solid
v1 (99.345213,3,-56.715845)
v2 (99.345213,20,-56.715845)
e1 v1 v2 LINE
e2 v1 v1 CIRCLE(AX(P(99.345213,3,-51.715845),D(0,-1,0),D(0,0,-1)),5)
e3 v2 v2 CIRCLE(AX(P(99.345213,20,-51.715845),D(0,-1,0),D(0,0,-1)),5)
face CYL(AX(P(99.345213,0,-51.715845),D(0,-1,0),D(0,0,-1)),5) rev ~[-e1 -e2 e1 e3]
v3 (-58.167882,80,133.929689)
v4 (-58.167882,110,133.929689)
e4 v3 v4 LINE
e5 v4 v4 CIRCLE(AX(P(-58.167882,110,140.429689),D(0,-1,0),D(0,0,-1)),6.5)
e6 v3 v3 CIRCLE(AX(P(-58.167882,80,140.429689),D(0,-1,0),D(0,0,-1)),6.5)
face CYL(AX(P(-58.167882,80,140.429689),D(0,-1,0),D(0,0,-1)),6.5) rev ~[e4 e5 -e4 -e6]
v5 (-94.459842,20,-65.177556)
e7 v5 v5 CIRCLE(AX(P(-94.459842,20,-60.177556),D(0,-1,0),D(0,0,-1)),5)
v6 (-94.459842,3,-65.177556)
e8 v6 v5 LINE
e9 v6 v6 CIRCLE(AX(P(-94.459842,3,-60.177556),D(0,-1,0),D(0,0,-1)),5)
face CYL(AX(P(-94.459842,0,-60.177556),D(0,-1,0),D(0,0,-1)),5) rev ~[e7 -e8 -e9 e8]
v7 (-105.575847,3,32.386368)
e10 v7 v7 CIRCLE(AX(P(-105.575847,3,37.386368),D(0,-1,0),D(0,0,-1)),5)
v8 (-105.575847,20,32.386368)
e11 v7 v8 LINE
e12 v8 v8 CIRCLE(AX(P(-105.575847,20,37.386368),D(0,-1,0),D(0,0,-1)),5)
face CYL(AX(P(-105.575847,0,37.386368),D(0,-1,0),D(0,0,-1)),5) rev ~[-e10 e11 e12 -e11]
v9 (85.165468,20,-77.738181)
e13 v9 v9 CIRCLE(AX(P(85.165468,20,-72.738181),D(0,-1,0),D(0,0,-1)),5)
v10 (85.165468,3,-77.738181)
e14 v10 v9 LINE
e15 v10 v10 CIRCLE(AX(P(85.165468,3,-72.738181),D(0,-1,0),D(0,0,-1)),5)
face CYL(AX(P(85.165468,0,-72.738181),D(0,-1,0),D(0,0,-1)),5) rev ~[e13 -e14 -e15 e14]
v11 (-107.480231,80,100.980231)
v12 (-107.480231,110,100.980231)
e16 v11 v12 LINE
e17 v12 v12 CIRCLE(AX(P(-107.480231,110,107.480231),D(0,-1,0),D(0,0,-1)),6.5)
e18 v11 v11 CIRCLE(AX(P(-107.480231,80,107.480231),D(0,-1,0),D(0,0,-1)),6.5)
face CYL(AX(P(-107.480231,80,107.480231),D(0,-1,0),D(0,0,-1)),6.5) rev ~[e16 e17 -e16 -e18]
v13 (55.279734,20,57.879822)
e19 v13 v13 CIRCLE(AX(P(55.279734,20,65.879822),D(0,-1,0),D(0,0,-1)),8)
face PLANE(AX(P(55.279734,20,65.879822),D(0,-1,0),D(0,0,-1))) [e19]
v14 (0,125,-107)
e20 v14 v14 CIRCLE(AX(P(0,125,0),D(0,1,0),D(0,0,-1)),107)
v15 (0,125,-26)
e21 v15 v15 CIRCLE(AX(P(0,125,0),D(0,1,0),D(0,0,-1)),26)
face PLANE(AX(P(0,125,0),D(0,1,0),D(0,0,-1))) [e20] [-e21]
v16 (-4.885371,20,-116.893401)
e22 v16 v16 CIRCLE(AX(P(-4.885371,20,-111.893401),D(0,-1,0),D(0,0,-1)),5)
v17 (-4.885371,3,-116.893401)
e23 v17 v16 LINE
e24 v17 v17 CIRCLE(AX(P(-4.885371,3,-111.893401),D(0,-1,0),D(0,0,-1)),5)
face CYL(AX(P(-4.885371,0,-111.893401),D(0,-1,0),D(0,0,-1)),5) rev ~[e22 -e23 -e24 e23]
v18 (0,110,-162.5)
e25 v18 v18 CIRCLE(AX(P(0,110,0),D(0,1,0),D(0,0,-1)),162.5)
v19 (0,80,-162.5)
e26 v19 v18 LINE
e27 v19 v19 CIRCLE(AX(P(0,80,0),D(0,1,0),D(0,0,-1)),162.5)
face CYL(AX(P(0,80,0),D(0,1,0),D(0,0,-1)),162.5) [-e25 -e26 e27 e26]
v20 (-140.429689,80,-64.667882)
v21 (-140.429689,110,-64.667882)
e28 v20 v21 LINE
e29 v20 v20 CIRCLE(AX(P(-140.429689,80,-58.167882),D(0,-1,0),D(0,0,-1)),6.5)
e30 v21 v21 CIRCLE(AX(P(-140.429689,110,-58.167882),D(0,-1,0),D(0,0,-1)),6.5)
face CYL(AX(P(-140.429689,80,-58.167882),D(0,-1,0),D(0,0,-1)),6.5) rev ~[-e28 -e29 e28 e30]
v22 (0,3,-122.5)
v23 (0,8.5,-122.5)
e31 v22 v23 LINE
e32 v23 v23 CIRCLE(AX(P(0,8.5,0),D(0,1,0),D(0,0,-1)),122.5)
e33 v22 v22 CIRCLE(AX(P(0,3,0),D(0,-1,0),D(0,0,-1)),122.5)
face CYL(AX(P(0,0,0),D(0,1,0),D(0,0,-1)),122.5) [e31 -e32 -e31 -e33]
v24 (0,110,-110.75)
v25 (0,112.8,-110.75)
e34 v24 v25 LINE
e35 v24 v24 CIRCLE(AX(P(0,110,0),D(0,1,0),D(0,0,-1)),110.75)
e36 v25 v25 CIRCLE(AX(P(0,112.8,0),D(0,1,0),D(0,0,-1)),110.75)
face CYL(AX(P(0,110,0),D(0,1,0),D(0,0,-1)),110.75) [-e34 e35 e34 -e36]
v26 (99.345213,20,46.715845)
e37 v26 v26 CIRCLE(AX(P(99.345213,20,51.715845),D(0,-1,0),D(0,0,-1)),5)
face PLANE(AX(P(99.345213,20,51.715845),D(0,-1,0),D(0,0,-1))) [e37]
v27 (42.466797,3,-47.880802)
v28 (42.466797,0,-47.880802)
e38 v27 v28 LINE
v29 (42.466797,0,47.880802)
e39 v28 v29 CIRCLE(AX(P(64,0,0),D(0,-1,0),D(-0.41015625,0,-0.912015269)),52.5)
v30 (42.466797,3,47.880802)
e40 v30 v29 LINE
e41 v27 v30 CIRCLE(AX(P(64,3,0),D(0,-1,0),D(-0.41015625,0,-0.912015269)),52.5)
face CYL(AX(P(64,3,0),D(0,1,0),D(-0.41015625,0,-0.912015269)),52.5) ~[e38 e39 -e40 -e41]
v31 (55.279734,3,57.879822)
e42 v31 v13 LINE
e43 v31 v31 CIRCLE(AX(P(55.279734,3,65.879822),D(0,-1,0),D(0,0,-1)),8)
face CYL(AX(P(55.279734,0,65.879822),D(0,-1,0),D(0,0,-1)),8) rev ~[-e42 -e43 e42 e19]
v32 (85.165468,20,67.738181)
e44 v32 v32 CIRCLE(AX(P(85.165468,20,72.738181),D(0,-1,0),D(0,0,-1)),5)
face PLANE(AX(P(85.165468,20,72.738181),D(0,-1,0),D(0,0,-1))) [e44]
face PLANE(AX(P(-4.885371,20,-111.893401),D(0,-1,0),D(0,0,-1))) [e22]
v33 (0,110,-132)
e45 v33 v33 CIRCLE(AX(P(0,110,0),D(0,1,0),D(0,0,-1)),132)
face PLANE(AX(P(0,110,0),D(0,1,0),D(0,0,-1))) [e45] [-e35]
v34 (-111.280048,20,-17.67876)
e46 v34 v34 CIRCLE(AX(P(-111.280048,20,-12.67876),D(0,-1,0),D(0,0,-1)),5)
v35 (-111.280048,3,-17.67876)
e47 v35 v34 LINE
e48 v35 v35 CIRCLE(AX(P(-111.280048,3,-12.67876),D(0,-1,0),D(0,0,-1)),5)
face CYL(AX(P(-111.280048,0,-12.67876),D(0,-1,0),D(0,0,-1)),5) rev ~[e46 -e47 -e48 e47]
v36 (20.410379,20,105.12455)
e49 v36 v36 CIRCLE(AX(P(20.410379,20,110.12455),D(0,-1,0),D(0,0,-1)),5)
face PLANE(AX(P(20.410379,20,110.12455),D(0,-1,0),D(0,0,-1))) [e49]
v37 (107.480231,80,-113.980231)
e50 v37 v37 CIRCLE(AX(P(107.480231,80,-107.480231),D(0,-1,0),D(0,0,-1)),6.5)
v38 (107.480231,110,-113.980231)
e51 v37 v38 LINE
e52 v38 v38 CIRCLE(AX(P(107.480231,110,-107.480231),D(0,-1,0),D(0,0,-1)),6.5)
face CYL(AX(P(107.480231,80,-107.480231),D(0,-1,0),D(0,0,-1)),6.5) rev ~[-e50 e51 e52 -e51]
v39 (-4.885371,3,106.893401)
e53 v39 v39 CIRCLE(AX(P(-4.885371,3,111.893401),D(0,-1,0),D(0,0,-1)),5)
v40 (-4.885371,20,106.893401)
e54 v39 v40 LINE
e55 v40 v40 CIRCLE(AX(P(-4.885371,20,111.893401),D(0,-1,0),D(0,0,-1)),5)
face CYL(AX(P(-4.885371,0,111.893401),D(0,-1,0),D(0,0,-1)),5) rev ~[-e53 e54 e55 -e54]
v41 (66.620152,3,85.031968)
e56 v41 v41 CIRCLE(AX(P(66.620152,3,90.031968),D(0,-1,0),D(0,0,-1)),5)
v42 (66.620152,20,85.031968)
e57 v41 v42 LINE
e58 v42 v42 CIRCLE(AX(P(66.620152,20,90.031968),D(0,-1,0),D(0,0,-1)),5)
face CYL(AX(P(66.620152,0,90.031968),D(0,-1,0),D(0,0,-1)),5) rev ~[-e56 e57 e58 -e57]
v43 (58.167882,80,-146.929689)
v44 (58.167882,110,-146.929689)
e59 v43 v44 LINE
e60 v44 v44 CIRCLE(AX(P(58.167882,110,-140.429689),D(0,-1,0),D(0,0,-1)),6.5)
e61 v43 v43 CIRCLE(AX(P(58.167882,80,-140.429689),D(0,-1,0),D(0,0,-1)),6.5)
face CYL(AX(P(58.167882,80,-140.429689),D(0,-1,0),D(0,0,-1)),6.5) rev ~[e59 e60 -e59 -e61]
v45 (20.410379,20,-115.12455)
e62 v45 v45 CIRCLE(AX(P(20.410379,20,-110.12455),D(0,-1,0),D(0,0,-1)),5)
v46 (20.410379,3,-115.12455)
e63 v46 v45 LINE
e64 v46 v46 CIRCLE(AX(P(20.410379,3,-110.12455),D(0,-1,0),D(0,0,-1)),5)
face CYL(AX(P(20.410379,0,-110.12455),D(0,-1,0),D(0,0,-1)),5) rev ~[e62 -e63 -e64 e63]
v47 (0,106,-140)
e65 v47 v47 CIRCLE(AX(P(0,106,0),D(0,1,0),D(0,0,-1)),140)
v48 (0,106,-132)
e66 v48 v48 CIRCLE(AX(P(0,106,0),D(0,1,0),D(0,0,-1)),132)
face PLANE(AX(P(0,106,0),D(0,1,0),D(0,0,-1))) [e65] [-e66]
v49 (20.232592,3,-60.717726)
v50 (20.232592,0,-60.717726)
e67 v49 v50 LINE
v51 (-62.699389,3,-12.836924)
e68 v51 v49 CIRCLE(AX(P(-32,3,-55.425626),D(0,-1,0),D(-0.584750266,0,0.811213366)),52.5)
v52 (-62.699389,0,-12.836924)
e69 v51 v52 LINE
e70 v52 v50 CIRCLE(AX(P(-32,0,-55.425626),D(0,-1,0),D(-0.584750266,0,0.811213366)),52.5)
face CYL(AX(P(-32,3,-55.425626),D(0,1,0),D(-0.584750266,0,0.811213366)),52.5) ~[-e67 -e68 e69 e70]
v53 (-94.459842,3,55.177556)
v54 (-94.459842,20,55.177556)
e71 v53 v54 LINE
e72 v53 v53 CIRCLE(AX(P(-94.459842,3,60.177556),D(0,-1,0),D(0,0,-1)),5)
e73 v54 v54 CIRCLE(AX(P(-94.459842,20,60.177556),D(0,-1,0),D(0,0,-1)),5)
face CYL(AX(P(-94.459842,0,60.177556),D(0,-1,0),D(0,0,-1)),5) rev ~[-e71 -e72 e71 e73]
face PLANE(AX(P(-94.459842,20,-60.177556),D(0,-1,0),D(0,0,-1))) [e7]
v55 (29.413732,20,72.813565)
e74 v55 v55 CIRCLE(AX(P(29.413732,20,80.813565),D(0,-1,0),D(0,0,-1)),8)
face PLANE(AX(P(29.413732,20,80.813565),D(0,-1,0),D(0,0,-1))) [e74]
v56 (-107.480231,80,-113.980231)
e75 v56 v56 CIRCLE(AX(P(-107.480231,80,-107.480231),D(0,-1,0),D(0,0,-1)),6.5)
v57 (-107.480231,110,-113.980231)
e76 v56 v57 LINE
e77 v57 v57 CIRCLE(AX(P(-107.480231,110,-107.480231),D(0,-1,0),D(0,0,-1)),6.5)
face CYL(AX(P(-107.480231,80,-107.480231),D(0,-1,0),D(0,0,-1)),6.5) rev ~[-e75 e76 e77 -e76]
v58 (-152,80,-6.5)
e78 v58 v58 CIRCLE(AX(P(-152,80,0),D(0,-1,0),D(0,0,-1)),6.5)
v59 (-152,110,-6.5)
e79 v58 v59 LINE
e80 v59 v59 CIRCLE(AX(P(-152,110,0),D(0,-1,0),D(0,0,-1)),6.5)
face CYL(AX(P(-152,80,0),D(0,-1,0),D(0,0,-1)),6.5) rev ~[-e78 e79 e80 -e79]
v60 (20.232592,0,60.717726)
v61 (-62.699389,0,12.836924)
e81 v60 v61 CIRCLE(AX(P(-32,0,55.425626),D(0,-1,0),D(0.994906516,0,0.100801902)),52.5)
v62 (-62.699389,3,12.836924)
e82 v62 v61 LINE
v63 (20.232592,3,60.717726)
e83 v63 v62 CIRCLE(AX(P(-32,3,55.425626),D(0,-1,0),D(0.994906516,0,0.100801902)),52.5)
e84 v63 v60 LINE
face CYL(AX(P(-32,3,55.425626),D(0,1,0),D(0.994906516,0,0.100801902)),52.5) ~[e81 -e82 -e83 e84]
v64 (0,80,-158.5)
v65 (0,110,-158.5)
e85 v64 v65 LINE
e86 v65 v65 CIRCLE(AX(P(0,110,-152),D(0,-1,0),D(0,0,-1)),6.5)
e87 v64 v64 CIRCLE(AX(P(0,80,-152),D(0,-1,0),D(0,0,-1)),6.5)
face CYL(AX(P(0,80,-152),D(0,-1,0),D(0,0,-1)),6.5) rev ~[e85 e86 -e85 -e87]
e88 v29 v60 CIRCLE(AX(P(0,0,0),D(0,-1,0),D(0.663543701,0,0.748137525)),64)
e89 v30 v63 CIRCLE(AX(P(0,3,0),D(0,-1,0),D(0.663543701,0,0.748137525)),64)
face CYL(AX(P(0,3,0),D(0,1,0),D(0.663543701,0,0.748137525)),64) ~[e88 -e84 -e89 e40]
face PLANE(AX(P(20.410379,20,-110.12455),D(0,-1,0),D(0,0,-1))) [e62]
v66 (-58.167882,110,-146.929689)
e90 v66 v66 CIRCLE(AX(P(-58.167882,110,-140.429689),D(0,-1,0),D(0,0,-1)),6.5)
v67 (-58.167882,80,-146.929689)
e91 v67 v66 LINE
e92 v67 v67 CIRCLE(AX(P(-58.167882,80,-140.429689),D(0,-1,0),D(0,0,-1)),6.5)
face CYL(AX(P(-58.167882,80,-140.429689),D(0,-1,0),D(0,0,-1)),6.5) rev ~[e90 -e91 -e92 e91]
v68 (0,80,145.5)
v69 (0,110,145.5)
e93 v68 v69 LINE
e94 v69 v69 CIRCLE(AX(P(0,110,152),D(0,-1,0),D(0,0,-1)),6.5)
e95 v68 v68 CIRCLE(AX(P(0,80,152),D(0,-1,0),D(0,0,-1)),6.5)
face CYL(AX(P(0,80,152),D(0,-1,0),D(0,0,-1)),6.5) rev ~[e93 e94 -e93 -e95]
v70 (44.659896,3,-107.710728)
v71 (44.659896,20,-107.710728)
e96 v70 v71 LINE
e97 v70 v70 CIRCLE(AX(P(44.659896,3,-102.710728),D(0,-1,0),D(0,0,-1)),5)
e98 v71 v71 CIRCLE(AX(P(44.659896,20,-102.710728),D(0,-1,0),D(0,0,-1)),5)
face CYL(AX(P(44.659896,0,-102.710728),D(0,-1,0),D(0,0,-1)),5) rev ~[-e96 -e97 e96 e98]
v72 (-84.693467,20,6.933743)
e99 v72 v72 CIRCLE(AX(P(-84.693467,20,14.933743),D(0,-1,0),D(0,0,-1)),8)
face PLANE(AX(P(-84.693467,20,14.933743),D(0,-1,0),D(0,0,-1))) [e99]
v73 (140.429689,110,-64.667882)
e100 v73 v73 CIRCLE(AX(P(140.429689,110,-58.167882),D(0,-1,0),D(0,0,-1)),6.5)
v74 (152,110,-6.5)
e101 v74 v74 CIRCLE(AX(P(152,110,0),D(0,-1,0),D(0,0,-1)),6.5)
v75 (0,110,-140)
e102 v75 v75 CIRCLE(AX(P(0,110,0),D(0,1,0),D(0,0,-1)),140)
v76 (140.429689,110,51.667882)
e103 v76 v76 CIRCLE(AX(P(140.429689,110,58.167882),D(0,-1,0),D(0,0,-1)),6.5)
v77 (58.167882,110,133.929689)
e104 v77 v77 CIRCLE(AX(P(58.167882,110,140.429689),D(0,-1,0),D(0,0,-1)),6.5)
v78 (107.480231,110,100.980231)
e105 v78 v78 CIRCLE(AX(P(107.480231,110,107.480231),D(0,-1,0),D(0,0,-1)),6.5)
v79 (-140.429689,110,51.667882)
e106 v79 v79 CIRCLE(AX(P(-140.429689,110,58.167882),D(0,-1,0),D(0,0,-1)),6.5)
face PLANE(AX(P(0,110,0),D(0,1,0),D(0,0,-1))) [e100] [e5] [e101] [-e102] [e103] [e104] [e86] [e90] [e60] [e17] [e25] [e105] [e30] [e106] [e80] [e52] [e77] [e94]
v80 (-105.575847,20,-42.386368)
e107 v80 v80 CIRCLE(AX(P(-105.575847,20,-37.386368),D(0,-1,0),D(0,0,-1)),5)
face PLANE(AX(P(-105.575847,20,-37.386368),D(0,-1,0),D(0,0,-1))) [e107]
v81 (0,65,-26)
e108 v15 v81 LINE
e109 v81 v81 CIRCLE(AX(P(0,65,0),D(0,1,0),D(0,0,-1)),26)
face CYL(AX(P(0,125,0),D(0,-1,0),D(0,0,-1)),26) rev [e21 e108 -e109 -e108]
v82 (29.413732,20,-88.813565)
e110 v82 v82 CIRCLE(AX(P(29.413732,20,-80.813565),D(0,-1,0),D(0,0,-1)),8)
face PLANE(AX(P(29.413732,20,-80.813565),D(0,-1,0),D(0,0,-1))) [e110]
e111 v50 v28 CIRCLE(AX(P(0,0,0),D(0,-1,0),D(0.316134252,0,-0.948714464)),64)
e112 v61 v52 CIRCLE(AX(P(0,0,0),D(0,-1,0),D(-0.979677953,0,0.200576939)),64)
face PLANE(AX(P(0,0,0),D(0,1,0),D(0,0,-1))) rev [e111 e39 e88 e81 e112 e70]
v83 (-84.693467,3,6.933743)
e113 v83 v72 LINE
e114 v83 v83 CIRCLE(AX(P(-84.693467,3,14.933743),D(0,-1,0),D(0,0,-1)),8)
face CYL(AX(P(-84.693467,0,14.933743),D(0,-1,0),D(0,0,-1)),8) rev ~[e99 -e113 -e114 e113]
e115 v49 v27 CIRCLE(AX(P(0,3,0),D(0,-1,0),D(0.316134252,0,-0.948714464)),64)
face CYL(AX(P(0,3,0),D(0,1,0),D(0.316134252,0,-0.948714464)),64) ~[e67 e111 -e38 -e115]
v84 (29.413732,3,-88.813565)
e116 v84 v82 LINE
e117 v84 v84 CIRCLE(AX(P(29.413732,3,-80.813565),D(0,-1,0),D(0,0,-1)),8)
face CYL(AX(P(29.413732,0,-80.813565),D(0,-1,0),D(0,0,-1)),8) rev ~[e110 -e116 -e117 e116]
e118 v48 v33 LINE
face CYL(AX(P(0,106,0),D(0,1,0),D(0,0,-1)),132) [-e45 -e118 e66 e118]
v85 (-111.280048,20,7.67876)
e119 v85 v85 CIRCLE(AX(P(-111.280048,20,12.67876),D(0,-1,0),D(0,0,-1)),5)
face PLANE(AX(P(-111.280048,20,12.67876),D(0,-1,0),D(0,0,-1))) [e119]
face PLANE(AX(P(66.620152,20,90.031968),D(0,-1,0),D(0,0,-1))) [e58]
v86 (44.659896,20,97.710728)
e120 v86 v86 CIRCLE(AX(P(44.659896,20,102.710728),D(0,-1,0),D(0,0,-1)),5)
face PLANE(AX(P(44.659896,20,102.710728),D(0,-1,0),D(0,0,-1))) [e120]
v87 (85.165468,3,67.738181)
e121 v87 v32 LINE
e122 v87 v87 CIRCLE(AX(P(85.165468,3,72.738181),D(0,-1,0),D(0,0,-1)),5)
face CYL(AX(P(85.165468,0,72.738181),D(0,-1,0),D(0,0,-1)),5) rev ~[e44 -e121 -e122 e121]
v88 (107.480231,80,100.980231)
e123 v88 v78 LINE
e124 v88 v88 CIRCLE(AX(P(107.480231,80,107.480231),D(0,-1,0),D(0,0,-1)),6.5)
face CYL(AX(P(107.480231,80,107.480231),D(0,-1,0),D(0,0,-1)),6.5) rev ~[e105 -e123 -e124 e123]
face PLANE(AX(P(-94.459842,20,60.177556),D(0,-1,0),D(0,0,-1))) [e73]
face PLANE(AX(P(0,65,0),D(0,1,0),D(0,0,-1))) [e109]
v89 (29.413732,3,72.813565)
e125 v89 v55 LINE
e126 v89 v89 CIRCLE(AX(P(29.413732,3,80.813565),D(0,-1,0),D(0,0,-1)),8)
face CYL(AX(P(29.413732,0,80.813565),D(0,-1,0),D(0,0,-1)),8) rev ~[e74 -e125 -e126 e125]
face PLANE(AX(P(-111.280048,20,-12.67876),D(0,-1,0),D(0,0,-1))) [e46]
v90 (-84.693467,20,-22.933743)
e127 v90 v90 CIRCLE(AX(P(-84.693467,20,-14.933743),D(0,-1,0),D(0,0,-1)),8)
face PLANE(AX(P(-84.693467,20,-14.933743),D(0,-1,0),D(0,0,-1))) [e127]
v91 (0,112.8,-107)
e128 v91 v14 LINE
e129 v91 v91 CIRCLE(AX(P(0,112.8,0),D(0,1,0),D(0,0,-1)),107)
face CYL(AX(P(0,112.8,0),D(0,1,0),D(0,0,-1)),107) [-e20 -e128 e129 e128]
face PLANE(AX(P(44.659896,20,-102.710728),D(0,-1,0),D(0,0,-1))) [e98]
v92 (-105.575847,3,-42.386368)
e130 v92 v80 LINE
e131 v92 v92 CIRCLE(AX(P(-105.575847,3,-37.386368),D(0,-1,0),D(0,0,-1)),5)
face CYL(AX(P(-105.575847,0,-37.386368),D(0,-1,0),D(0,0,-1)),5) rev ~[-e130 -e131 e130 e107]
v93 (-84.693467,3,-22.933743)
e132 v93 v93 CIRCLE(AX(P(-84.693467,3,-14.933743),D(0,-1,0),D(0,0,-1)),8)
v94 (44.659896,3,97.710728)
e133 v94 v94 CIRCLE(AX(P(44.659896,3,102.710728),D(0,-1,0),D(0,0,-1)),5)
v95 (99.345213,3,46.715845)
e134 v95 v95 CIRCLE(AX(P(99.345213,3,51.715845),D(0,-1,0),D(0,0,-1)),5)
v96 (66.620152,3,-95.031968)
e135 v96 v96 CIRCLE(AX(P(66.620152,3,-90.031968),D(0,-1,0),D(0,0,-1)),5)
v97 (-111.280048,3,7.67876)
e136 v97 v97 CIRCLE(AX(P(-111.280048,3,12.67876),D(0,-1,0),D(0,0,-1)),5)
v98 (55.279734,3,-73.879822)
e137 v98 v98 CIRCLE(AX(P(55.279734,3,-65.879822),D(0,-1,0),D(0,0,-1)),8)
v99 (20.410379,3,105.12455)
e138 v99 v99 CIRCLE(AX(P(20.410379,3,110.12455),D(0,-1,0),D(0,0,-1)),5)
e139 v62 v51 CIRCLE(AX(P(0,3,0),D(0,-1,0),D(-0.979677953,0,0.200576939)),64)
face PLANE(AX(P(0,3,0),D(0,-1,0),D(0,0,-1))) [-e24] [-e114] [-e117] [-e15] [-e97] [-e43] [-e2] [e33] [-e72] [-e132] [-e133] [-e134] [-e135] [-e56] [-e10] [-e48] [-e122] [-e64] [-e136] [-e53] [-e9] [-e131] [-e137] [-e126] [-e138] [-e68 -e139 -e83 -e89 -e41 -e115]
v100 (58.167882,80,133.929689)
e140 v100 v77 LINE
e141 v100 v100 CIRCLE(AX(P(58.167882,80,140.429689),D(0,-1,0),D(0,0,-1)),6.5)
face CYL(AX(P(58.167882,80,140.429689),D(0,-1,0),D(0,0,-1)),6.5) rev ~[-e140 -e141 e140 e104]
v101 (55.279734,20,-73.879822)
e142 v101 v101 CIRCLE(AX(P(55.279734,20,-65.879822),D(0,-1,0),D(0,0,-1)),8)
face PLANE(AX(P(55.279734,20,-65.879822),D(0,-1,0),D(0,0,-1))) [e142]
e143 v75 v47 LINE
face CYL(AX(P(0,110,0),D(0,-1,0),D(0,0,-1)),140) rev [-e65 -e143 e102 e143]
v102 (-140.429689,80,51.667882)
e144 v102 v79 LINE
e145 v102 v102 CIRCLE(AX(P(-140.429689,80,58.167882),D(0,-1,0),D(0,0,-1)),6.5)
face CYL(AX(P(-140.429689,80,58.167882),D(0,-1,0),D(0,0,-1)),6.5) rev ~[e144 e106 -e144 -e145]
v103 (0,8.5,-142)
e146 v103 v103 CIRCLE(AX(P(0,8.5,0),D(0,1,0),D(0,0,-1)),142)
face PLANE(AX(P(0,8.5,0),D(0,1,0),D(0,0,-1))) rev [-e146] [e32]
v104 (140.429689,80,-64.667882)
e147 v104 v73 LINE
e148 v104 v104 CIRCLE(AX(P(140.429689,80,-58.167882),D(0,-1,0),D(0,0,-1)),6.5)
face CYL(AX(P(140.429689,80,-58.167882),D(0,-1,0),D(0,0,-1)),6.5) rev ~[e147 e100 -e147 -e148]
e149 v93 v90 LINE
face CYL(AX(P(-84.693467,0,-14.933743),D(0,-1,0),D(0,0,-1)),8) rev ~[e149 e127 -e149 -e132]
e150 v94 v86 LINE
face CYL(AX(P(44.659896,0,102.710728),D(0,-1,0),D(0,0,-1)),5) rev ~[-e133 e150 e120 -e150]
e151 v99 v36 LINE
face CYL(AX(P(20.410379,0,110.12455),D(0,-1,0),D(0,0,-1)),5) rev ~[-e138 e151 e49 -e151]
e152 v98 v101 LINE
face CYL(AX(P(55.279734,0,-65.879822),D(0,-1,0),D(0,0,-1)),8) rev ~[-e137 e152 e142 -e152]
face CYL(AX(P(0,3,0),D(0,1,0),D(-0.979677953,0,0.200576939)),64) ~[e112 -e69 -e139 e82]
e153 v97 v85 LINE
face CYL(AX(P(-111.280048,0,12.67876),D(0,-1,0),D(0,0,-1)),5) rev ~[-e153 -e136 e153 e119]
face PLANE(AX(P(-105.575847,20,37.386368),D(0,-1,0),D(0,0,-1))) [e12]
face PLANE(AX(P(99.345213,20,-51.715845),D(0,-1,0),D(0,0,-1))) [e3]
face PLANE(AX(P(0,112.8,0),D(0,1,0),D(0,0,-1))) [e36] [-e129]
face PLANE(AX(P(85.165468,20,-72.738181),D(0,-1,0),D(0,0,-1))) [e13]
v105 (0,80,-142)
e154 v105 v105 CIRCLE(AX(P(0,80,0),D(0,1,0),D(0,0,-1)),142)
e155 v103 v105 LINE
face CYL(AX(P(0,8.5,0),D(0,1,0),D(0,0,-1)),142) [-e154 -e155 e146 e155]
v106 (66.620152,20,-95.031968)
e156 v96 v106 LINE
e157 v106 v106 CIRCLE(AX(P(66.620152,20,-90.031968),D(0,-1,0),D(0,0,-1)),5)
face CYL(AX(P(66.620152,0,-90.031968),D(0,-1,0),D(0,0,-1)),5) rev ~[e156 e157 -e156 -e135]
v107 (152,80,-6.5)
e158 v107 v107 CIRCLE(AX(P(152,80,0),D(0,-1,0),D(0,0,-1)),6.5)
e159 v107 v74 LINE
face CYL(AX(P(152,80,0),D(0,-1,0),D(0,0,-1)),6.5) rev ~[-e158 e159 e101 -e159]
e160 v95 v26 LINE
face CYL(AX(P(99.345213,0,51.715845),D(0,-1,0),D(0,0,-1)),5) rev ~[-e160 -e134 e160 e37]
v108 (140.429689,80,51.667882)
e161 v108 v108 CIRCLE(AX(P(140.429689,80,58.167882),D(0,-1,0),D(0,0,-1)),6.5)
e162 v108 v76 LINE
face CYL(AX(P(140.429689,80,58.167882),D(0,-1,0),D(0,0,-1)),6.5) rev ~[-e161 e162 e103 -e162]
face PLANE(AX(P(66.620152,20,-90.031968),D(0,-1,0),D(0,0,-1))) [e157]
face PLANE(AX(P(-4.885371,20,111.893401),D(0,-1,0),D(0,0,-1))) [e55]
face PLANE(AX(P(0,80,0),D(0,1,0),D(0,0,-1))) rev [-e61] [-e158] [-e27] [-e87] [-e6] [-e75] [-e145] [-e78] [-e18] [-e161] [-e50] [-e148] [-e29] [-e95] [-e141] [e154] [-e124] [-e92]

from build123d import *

# Parameters (mm, degrees)
SKETCH2_R          = 5
SKETCH2_R_2        = 8
CUT_EXTRUDE1_DEPTH = 20
SKETCH3_R          = 6.5
CUT_EXTRUDE2_DEPTH = 40
CUT_EXTRUDE3_START = -3
SKETCH4_R          = 122.5
CUT_EXTRUDE3_DEPTH = 3


with BuildPart() as part:
    # Sketch1 → Revolve1 (revolve)
    with BuildSketch(Plane.XY, mode=Mode.PRIVATE) as revolve1_sk:
        Polygon((0, 0), (-122.5, 0), (-122.5, 8.5), (-142, 8.5), (-142, 80), (-162.5, 80), (-162.5, 110), (-140, 110), (-140, 106), (-132, 106), (-132, 110), (-110.75, 110), (-110.75, 112.8), (-107, 112.8), (-107, 125), (-26, 125), (-26, 65), (0, 65), align=None)
    revolve(revolve1_sk.sketch.rotate(Axis((0, 0, 0), (0, 1, 0)), 270), axis=Axis((0, 0, 0), (0, 1, 0)))

    # Sketch2 → Cut-Extrude1 (cut)
    with BuildSketch(Plane.XZ):
        with Locations(Location((-111.280047836, -12.678759942, 0), (0, 0, 270))):
            Circle(SKETCH2_R)
        with Locations(Location((-111.280047836, 12.678759942, 0), (0, 0, 270))):
            Circle(SKETCH2_R)
        with Locations(Location((-105.575847002, 37.386368234, 0), (0, 0, 270))):
            Circle(SKETCH2_R)
        with Locations(Location((-94.459841931, 60.177556135, 0), (0, 0, 270))):
            Circle(SKETCH2_R)
        with Locations(Location((-105.575847002, -37.386368234, 0), (0, 0, 270))):
            Circle(SKETCH2_R)
        with Locations(Location((-94.459841931, -60.177556135, 0), (0, 0, 270))):
            Circle(SKETCH2_R)
        with Locations(Location((99.345213316, 51.715844682, 0), (0, 0, 270))):
            Circle(SKETCH2_R)
        with Locations(Location((85.165468147, 72.738181413, 0), (0, 0, 270))):
            Circle(SKETCH2_R)
        with Locations(Location((66.620152116, 90.031968389, 0), (0, 0, 270))):
            Circle(SKETCH2_R)
        with Locations(Location((44.65989572, 102.710728331, 0), (0, 0, 270))):
            Circle(SKETCH2_R)
        with Locations(Location((20.410378855, 110.124549647, 0), (0, 0, 270))):
            Circle(SKETCH2_R)
        with Locations(Location((-4.885371385, 111.893400817, 0), (0, 0, 270))):
            Circle(SKETCH2_R)
        with Locations(Location((-4.885371385, -111.893400817, 0), (0, 0, 270))):
            Circle(SKETCH2_R)
        with Locations(Location((20.410378855, -110.124549647, 0), (0, 0, 270))):
            Circle(SKETCH2_R)
        with Locations(Location((44.65989572, -102.710728331, 0), (0, 0, 270))):
            Circle(SKETCH2_R)
        with Locations(Location((66.620152116, -90.031968389, 0), (0, 0, 270))):
            Circle(SKETCH2_R)
        with Locations(Location((85.165468147, -72.738181413, 0), (0, 0, 270))):
            Circle(SKETCH2_R)
        with Locations(Location((99.345213316, -51.715844682, 0), (0, 0, 270))):
            Circle(SKETCH2_R)
        with Locations(Location((-84.693466759, 14.933743279, 0), (0, 0, 270))):
            Circle(SKETCH2_R_2)
        with Locations(Location((-84.693466759, -14.933743279, 0), (0, 0, 270))):
            Circle(SKETCH2_R_2)
        with Locations(Location((55.279734433, 65.879822108, 0), (0, 0, 270))):
            Circle(SKETCH2_R_2)
        with Locations(Location((29.413732326, 80.813565388, 0), (0, 0, 270))):
            Circle(SKETCH2_R_2)
        with Locations(Location((29.413732326, -80.813565388, 0), (0, 0, 270))):
            Circle(SKETCH2_R_2)
        with Locations(Location((55.279734433, -65.879822108, 0), (0, 0, 270))):
            Circle(SKETCH2_R_2)
    extrude(amount=-CUT_EXTRUDE1_DEPTH, mode=Mode.SUBTRACT)

    # Sketch3 → Cut-Extrude2 (cut)
    with BuildSketch(Plane.XZ.offset(-80)):
        with Locations(Location((0, 152, 0), (0, 0, 270))):
            Circle(SKETCH3_R)
        with Locations(Location((58.167881719, 140.429688942, 0), (0, 0, 270))):
            Circle(SKETCH3_R)
        with Locations(Location((107.48023074, 107.48023074, 0), (0, 0, 270))):
            Circle(SKETCH3_R)
        with Locations(Location((140.429688942, 58.167881719, 0), (0, 0, 270))):
            Circle(SKETCH3_R)
        with Locations(Location((152, 0, 0), (0, 0, 270))):
            Circle(SKETCH3_R)
        with Locations(Location((140.429688942, -58.167881719, 0), (0, 0, 270))):
            Circle(SKETCH3_R)
        with Locations(Location((107.48023074, -107.48023074, 0), (0, 0, 270))):
            Circle(SKETCH3_R)
        with Locations(Location((58.167881719, -140.429688942, 0), (0, 0, 270))):
            Circle(SKETCH3_R)
        with Locations(Location((0, -152, 0), (0, 0, 270))):
            Circle(SKETCH3_R)
        with Locations(Location((-58.167881719, -140.429688942, 0), (0, 0, 270))):
            Circle(SKETCH3_R)
        with Locations(Location((-107.48023074, -107.48023074, 0), (0, 0, 270))):
            Circle(SKETCH3_R)
        with Locations(Location((-140.429688942, -58.167881719, 0), (0, 0, 270))):
            Circle(SKETCH3_R)
        with Locations(Location((-152, 0, 0), (0, 0, 270))):
            Circle(SKETCH3_R)
        with Locations(Location((-140.429688942, 58.167881719, 0), (0, 0, 270))):
            Circle(SKETCH3_R)
        with Locations(Location((-107.48023074, 107.48023074, 0), (0, 0, 270))):
            Circle(SKETCH3_R)
        with Locations(Location((-58.167881719, 140.429688942, 0), (0, 0, 270))):
            Circle(SKETCH3_R)
    extrude(amount=-CUT_EXTRUDE2_DEPTH, mode=Mode.SUBTRACT)

    # Sketch4 → Cut-Extrude3 (cut)
    with BuildSketch(Plane.XZ.offset(CUT_EXTRUDE3_START)):
        with Locations(Location((0, 0, 0), (0, 0, 270))):
            Circle(SKETCH4_R)
        with BuildLine():
            ThreePointArc((20.232592114, 60.717725718), (-58.25, 100.891959541), (-62.699388989, 12.836924104))
            ThreePointArc((-62.699388989, 12.836924104), (-64, 0), (-62.699388989, -12.836924104))
            ThreePointArc((-62.699388989, -12.836924104), (-58.25, -100.891959541), (20.232592114, -60.717725718))
            ThreePointArc((20.232592114, -60.717725718), (32, -55.425625842), (42.466796875, -47.880801614))
            ThreePointArc((42.466796875, -47.880801614), (116.5, 0), (42.466796875, 47.880801614))
            ThreePointArc((42.466796875, 47.880801614), (32, 55.425625842), (20.232592114, 60.717725718))
        make_face(mode=Mode.SUBTRACT)
    extrude(amount=CUT_EXTRUDE3_DEPTH, mode=Mode.SUBTRACT)


solid = part.part
